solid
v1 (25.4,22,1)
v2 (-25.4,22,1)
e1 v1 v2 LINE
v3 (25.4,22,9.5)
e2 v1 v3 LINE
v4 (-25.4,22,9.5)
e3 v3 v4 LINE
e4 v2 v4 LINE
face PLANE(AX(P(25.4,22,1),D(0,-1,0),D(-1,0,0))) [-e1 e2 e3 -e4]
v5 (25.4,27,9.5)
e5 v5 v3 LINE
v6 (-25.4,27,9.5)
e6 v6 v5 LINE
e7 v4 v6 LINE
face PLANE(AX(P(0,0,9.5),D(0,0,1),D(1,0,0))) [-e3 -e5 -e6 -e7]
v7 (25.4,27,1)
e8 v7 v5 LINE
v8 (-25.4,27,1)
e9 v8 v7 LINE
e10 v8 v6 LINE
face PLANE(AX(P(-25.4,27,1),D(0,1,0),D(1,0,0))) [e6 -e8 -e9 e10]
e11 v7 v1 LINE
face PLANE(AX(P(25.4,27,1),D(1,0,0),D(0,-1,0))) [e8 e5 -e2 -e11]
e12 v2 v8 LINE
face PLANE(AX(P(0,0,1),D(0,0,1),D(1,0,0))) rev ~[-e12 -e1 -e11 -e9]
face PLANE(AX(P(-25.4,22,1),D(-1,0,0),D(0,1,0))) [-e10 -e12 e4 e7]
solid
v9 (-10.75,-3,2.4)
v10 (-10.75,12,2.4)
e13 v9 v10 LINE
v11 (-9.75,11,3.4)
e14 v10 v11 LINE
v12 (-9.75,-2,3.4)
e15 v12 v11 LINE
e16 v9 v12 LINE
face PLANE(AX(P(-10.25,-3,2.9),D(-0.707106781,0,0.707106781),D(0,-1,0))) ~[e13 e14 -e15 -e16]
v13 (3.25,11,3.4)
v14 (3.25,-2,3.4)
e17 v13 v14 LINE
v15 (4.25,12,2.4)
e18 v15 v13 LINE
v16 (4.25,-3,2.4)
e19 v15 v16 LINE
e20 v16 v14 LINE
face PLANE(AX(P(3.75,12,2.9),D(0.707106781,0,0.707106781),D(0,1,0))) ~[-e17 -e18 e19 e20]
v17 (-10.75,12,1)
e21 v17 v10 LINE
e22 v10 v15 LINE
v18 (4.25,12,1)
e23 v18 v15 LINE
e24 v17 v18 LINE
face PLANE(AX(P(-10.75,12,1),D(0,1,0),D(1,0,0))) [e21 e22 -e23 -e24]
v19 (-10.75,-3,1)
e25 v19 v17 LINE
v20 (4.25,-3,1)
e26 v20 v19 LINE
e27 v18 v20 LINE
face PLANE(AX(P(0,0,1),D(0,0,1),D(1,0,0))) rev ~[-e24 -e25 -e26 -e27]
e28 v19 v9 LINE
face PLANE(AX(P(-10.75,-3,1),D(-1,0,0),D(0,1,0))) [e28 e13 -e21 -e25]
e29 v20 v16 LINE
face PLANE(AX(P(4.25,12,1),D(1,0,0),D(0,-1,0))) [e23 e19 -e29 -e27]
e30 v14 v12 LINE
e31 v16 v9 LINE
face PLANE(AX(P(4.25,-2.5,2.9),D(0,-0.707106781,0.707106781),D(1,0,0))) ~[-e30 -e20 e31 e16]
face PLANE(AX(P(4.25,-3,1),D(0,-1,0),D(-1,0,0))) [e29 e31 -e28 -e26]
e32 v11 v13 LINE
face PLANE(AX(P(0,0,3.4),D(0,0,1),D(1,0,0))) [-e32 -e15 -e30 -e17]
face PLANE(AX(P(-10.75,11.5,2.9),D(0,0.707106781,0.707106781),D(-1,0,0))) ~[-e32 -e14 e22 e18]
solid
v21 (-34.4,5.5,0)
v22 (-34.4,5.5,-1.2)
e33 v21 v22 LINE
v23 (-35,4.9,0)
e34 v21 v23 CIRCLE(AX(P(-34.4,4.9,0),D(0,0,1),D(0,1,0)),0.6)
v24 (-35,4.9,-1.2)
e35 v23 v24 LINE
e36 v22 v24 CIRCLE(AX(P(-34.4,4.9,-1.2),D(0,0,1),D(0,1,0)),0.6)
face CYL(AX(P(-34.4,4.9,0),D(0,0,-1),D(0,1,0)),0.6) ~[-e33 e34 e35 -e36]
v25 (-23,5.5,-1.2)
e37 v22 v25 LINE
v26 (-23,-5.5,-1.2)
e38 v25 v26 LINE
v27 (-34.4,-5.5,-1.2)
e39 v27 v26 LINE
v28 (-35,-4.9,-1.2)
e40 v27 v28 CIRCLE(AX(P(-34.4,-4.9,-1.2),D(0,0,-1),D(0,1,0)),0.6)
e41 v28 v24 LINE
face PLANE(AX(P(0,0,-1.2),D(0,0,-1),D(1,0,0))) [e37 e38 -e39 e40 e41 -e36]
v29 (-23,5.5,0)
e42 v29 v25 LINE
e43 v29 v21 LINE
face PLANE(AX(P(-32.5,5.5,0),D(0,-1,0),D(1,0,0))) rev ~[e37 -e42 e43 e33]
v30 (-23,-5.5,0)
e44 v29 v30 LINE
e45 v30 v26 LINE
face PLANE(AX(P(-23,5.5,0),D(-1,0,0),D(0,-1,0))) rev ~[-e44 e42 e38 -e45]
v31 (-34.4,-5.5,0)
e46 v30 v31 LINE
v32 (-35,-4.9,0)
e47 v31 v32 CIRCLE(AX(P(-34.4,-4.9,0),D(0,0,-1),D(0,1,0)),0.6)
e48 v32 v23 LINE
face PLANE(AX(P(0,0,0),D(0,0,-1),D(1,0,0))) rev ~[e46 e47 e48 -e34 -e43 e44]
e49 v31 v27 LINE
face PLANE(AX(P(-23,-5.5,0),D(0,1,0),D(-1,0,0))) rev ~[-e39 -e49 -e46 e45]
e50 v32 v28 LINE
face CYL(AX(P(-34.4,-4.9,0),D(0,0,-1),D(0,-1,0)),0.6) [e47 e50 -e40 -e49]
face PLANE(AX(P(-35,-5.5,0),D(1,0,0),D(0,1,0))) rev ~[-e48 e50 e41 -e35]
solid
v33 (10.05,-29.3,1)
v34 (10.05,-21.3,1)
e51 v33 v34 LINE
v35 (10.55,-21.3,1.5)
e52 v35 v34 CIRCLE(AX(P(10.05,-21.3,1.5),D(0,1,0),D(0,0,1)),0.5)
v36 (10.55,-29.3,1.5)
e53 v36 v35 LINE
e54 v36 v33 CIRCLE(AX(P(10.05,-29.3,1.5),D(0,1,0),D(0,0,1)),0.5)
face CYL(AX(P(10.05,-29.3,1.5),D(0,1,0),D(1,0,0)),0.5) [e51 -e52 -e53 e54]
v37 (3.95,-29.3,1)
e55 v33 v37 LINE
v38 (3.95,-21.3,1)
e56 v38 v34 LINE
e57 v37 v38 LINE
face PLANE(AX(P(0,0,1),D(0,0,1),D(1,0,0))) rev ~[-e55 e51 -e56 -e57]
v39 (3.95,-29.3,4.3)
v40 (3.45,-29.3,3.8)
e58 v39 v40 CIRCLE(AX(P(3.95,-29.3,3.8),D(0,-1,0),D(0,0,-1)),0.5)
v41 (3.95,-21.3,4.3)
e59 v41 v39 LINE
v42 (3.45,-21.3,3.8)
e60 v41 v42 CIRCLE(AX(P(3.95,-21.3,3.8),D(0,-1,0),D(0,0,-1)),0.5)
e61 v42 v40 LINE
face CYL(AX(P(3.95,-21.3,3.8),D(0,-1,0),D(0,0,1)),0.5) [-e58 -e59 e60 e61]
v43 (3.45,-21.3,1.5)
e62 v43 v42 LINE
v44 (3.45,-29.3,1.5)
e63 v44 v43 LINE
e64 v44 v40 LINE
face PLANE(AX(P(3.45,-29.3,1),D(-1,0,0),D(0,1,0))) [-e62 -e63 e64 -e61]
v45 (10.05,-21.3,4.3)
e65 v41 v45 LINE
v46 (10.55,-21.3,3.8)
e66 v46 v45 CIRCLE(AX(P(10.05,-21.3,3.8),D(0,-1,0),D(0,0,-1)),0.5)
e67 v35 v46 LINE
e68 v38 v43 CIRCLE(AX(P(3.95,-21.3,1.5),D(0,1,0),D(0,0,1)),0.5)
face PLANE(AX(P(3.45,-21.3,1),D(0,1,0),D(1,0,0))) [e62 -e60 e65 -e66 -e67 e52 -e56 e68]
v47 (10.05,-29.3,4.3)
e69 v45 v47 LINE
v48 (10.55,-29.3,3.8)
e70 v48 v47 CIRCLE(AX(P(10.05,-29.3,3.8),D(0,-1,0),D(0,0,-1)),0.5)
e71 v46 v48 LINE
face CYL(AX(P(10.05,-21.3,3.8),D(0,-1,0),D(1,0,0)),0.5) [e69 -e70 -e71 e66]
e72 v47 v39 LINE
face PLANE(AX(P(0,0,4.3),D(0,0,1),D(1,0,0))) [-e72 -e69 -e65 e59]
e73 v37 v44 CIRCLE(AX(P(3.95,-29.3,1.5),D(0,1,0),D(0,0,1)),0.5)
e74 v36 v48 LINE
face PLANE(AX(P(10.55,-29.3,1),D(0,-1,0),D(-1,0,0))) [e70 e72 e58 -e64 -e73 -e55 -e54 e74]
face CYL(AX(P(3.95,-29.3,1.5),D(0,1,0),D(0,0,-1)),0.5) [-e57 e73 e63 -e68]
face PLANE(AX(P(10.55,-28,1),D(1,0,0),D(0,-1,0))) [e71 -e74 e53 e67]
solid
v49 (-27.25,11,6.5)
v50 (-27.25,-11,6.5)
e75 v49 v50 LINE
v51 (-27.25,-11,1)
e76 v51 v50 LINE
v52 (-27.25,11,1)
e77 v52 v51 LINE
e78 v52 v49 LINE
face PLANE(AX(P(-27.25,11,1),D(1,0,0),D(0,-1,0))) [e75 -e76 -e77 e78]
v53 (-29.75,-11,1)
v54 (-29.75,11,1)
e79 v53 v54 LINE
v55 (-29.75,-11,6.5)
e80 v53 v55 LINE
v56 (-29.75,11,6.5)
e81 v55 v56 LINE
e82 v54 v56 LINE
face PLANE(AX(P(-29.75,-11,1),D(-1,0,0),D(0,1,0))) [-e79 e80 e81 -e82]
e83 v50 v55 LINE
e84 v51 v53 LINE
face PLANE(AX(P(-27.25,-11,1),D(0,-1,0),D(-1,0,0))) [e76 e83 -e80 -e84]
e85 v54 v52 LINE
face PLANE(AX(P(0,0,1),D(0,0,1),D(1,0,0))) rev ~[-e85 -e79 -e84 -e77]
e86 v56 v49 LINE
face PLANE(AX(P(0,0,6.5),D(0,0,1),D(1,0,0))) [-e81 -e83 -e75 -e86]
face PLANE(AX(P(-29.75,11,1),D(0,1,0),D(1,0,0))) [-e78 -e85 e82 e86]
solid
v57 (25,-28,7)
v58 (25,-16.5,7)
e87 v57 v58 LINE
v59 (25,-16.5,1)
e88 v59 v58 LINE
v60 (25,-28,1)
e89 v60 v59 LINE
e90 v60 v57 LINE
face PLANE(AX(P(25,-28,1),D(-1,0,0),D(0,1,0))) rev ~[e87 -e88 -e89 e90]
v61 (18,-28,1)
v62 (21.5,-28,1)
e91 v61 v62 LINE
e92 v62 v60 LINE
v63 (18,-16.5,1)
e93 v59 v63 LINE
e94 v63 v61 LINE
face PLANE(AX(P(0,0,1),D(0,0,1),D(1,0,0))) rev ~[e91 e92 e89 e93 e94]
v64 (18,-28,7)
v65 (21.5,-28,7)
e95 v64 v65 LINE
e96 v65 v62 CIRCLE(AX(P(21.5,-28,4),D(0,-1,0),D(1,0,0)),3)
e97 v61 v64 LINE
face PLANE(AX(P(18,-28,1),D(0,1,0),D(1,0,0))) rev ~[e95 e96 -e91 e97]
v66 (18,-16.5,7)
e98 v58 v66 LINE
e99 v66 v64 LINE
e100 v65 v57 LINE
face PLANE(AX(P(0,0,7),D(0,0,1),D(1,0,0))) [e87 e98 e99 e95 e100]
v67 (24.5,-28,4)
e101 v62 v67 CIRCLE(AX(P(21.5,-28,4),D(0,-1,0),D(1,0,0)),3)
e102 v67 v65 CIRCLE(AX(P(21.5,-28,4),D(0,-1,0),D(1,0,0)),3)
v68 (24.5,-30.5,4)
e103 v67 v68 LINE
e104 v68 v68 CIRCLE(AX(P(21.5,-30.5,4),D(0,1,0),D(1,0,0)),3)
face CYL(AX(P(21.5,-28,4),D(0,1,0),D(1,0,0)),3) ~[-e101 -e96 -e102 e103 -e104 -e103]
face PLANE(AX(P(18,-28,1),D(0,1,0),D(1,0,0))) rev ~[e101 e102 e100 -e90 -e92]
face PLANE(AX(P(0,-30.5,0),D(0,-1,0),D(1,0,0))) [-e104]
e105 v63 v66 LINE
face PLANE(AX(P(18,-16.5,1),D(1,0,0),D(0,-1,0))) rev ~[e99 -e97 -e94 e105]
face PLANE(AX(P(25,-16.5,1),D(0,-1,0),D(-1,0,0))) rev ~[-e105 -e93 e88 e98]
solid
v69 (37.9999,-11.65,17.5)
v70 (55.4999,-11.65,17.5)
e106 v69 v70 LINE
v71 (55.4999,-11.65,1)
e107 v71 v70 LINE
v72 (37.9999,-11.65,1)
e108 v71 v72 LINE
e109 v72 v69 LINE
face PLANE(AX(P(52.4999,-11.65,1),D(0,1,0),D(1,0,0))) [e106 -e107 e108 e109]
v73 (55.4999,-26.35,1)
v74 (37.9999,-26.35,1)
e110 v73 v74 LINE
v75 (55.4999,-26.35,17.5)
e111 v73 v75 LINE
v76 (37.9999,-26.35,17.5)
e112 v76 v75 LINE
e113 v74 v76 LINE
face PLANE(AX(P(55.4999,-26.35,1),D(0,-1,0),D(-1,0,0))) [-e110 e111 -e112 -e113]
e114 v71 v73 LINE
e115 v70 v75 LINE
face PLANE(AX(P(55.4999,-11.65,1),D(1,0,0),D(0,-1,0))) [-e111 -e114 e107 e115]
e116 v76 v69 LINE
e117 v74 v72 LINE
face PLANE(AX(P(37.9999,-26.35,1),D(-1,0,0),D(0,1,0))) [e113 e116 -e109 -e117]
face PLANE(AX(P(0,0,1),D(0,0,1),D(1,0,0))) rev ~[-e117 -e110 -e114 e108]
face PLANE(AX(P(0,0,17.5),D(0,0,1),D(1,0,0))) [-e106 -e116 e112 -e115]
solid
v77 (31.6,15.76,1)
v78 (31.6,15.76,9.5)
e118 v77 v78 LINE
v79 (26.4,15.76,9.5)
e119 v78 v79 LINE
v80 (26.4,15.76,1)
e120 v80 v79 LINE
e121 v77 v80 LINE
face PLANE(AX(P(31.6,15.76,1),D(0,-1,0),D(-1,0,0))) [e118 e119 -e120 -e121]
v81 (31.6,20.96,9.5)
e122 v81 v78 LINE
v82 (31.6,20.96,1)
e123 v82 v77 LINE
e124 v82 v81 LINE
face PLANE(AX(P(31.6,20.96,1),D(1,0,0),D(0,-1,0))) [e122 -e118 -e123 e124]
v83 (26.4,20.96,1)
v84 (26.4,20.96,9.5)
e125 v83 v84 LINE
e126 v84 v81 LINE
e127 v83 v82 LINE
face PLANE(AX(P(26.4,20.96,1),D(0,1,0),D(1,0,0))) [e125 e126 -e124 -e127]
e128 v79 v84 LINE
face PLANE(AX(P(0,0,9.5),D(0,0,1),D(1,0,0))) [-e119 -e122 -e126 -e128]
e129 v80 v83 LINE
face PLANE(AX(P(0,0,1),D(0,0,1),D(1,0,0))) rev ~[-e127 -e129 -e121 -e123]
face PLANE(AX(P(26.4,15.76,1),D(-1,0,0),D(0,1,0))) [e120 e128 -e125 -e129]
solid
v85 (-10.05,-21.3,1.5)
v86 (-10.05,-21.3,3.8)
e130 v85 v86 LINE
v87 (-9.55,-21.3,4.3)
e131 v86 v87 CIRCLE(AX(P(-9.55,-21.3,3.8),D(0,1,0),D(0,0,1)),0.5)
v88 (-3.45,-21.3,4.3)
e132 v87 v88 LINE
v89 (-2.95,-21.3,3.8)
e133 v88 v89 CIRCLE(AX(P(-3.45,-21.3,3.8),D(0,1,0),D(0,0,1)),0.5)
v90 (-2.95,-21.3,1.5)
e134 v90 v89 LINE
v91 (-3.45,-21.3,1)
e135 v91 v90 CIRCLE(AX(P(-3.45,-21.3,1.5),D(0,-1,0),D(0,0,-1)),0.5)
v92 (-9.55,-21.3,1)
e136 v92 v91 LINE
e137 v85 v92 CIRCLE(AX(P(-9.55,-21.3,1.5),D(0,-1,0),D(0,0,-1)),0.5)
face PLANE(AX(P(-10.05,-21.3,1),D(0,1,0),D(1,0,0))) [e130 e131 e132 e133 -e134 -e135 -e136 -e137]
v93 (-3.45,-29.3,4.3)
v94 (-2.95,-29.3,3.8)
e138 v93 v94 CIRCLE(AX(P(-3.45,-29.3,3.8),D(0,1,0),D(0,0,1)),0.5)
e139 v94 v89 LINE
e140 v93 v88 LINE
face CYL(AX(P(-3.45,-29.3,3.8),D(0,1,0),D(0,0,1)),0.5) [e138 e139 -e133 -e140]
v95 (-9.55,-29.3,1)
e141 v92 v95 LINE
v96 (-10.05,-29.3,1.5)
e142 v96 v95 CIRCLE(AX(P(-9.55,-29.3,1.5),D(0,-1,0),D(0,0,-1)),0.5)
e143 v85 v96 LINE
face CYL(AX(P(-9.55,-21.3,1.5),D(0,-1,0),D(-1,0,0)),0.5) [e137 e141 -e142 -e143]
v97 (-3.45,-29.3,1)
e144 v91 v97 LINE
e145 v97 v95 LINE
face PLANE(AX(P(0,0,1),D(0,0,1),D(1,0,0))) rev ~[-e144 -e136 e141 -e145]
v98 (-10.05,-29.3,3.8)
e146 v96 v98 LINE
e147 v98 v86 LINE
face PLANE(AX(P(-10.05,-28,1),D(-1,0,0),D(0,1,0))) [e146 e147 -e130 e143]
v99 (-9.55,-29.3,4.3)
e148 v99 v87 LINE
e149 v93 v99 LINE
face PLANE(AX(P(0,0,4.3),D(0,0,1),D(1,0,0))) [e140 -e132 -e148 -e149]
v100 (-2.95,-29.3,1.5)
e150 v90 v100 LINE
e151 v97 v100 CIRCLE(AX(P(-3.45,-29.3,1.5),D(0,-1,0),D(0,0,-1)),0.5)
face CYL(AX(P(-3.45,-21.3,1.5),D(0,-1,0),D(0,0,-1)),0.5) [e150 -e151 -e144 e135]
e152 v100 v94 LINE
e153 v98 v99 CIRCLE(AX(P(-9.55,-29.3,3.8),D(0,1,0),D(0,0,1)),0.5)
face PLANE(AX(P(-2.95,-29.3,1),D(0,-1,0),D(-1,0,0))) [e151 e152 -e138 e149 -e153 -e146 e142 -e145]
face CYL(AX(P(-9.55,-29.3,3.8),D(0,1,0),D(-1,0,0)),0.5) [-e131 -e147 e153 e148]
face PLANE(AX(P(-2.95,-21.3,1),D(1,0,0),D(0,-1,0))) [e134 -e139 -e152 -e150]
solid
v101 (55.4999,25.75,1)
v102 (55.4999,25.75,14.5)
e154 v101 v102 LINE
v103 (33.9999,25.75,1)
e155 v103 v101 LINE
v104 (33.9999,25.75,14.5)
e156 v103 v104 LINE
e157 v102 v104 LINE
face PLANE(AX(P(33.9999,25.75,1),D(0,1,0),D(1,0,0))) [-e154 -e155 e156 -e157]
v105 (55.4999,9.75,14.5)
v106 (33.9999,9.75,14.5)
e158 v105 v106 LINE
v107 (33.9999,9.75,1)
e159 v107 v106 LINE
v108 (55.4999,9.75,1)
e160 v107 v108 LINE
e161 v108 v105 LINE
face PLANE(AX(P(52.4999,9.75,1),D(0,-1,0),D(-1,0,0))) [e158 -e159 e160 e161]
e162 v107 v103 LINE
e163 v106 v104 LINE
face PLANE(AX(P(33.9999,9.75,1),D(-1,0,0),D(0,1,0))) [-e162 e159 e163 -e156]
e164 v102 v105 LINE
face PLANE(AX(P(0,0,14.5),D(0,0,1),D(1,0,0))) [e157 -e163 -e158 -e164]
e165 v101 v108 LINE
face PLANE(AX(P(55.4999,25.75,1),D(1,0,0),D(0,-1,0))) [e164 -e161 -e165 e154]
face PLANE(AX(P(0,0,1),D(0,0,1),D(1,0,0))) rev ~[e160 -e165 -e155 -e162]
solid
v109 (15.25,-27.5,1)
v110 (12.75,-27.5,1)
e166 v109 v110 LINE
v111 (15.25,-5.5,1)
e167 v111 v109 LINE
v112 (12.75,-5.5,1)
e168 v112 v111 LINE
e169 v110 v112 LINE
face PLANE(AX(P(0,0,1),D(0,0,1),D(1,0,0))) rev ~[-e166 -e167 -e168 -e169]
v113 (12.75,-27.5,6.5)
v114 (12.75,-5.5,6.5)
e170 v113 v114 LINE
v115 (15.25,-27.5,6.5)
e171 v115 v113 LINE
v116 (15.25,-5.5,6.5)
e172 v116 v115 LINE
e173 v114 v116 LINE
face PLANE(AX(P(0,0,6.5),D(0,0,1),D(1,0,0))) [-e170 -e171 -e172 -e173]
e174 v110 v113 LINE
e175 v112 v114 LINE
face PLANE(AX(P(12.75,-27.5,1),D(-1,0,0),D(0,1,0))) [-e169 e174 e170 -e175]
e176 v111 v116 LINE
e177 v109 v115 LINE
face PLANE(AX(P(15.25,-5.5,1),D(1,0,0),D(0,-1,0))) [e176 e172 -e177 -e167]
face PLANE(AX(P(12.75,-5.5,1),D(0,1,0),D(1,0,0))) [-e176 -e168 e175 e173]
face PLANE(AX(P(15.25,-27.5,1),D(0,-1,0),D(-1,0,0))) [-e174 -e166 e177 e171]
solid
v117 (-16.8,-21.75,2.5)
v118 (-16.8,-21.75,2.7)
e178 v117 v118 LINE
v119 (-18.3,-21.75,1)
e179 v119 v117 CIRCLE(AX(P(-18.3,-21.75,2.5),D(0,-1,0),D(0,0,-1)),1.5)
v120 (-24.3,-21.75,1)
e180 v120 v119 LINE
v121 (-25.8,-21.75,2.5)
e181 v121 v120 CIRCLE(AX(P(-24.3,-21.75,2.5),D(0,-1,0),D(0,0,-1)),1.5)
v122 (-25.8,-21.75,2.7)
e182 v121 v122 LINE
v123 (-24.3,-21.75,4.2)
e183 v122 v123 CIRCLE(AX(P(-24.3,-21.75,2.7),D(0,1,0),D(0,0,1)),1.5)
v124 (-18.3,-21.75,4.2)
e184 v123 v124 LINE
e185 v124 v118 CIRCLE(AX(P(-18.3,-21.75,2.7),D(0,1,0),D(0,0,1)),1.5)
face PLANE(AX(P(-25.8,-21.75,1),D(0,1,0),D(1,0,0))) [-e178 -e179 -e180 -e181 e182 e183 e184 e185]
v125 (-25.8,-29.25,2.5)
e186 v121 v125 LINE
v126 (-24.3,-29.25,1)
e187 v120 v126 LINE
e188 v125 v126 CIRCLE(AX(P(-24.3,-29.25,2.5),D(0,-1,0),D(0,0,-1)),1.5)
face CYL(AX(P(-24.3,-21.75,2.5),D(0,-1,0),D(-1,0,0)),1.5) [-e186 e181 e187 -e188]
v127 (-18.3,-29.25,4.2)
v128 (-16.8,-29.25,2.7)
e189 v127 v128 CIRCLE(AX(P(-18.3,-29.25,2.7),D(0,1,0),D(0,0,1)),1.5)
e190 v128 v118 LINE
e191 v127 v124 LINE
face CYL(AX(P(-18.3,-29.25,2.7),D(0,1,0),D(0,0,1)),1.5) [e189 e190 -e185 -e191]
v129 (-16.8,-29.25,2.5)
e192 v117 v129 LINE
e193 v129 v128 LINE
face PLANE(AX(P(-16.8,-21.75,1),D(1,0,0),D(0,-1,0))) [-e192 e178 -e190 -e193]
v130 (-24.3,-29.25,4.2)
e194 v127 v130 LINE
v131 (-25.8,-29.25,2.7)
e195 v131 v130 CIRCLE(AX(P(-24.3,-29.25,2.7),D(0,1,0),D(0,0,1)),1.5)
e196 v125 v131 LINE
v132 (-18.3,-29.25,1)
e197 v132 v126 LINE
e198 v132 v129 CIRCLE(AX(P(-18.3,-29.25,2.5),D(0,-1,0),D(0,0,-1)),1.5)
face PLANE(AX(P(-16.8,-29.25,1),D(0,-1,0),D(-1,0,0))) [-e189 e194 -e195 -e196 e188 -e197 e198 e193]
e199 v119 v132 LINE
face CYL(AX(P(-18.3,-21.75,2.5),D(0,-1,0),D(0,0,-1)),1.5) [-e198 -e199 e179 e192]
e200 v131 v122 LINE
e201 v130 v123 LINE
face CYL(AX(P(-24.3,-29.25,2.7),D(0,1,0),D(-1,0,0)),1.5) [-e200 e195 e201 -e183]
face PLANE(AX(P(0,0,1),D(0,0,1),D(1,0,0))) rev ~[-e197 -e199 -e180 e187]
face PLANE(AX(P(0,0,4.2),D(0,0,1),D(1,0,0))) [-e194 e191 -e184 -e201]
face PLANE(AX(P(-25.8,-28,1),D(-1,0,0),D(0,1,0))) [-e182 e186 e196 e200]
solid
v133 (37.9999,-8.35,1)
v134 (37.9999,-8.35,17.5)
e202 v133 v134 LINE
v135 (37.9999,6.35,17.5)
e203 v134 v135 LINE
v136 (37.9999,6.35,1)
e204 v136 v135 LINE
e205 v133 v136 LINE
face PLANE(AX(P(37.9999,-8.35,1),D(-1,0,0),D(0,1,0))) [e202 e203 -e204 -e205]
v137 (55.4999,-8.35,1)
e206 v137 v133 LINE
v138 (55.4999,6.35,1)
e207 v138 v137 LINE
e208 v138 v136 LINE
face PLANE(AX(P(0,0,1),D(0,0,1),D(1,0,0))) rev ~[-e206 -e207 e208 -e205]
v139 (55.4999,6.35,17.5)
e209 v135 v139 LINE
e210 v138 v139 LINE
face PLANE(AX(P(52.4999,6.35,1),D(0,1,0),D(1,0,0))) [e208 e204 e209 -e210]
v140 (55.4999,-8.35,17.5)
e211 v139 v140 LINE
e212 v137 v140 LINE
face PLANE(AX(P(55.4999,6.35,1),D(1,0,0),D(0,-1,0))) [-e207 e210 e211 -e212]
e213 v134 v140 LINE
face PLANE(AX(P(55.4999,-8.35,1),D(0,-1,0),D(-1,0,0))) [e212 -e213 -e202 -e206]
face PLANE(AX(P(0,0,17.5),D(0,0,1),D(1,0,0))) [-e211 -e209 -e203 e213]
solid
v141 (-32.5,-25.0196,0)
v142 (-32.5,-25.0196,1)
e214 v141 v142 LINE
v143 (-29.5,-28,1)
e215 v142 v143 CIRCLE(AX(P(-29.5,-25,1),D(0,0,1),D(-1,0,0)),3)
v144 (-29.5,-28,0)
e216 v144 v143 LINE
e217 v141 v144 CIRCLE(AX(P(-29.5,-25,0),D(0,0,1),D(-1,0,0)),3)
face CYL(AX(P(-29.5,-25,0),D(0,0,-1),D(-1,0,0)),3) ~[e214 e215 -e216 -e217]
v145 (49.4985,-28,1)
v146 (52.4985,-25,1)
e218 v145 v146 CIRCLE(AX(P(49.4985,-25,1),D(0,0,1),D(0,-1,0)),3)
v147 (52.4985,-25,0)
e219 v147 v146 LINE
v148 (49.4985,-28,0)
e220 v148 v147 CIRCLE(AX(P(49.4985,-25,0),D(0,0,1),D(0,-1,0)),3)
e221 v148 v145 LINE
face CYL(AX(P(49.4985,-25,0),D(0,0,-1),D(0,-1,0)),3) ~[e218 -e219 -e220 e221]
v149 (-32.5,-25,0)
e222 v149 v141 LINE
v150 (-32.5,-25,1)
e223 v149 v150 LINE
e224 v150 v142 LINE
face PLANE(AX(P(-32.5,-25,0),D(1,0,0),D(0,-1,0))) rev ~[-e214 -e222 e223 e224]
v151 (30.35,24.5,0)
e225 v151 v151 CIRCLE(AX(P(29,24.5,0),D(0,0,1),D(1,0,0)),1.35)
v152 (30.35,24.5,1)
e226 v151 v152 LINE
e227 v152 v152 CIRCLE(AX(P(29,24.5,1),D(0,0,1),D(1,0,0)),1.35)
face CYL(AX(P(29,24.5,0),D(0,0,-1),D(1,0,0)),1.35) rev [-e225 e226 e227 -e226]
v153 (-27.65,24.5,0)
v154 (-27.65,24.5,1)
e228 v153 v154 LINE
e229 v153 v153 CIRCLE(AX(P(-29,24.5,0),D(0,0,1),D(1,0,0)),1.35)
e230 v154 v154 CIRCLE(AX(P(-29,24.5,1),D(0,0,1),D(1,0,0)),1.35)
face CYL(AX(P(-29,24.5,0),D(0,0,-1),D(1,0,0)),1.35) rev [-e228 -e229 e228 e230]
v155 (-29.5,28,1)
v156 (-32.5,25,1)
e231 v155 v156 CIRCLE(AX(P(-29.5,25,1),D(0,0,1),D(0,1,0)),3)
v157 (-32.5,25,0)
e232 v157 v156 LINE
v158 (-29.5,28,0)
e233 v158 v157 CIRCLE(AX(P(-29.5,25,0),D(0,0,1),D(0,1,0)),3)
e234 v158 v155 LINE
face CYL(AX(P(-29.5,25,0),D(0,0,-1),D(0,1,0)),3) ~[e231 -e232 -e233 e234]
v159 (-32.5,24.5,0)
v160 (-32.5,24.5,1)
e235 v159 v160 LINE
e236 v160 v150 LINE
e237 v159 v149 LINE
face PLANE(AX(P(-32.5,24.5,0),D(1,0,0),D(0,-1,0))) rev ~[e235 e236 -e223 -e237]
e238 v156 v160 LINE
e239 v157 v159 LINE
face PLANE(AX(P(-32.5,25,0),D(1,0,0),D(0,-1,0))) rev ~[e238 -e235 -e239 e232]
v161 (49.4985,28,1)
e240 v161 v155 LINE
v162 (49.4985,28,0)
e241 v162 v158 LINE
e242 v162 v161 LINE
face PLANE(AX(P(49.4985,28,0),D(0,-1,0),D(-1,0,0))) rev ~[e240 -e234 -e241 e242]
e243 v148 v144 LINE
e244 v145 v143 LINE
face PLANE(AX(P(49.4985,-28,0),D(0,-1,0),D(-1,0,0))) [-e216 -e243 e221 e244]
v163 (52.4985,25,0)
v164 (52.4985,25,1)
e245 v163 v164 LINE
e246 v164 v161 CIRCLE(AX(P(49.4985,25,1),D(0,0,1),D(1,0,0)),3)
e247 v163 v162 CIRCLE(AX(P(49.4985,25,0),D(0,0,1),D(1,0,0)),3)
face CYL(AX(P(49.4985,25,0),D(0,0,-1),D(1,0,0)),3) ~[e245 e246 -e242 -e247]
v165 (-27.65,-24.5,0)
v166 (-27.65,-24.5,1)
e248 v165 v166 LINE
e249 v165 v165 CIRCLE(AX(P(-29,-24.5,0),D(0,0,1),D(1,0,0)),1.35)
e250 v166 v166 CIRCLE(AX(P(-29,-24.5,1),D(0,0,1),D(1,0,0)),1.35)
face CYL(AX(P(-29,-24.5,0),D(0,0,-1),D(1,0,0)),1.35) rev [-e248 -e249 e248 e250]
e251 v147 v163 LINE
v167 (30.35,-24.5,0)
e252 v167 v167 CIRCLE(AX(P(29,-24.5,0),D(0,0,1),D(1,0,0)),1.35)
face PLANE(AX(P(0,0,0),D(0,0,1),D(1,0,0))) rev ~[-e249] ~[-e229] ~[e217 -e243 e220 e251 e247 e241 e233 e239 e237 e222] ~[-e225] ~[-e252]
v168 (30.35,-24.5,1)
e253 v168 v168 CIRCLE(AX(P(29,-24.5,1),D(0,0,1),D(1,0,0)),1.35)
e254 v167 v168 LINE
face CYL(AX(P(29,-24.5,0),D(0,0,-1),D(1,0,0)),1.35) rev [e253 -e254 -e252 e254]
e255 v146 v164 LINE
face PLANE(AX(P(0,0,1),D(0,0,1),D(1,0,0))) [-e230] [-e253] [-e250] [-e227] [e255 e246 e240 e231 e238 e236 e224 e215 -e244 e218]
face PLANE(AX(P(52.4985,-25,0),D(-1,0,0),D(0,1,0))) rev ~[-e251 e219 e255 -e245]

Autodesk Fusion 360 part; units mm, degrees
sketch "Skizze4" plane through (0, 0, 0) normal (0, 0, 1) x (1, 0, 0)
  line L0 (52.4985, -25) -> (52.4985, 25)
  line L1 (-32.5, 24.5) -> (-32.5, -25.0196)
  line L2 (49.4985, 28) -> (-29.5, 28)
  line L3 (-32.5, 25) -> (-32.5, 24.5)
  line L4 (49.4985, -28) -> (-29.5, -28)
  line L5 (-32.5, -25) -> (-32.5, -25.0196)
  circle A0 centre (29, 24.5) radius 1.35
  circle A1 centre (29, -24.5) radius 1.35
  circle A2 centre (-29, -24.5) radius 1.35
  circle A3 centre (-29, 24.5) radius 1.35
  arc A4 (-29.5, 28) -> (-32.5, 25) centre (-29.5, 25) ccw
  arc A5 (-32.5, -25) -> (-29.5, -28) centre (-29.5, -25) ccw
  arc A6 (49.4985, -28) -> (52.4985, -25) centre (49.4985, -25) ccw
  arc A7 (52.4985, 25) -> (49.4985, 28) centre (49.4985, 25) ccw
  line L6 (-29, 24.5) -> (29, -24.5) construction
  line L7 (29, 24.5) -> (-29, -24.5) construction
  line L8 (-29, 24.5) -> (-29, -24.5) construction
  line L9 (-29, -24.5) -> (29, -24.5) construction
  line L10 (29, -24.5) -> (29, 24.5) construction
  line L11 (-29, 24.5) -> (29, 24.5) construction
  point P0 (-32.5, 28)
  dimension "d3" = 85
  dimension "d6" = 3.5
  dimension "d11" = 2.7
  dimension "d17" = 3
  dimension "d57" = 49
  dimension "d58" = 58
  dimension "d61" = 56
  dimension "d62" = 3.5
  dimension "d63" = 3.5
extrude "Extrusion7" add sketch "Skizze4" along normal blind 1 makes body 1
copy_body "Körper->Berechn3" bodies 1 removing the originals makes body 2 in component "Baseplate"
sketch "Skizze9" plane through (0, 0, 1) normal (0, 0, 1) x (1, 0, 0)
  arc A0 (52.4999, 24.6406) -> (49.5215, 28) centre (49.5215, 25) ccw
  line L0 (52.4999, -25) -> (52.4999, 24.6406) construction
  line L1 (49.5215, 28) -> (-29.5, 28) construction
  arc A1 (49.4999, -28) -> (52.4999, -25) centre (49.4999, -25) ccw construction
  line L2 (49.4999, -28) -> (-29.5, -28) construction
  circle A2 centre (29, -24.5) radius 1.3
  arc A3 (-29.5, 28) -> (-32.5, 25) centre (-29.5, 25) ccw construction
  line L3 (-32.5, 24.5) -> (-32.5, -25.0196) construction
  arc A4 (-32.5, -25) -> (-29.5, -28) centre (-29.5, -25) ccw construction
  circle A5 centre (29, 24.5) radius 1.3
  circle A6 centre (-29, 24.5) radius 1.3
  circle A7 centre (-29, -24.5) radius 1.3
  line L4 (-32.5, 25) -> (-32.5, 24.5) construction
  circle A8 centre (29, -24.5) radius 1.3
  circle A9 centre (29, 24.5) radius 1.3
  circle A10 centre (-29, -24.5) radius 1.3
  circle A11 centre (-29, 24.5) radius 1.3
  arc A12 (49.4999, -28) -> (52.4999, -25) centre (49.4999, -25) ccw
  line L5 (52.4999, -25) -> (52.4999, 24.6406)
  arc A13 (52.4999, 24.6406) -> (49.5215, 28) centre (49.5215, 25) ccw
  line L6 (49.5215, 28) -> (-29.5, 28)
  arc A14 (-29.5, 28) -> (-32.5, 25) centre (-29.5, 25) ccw
  line L7 (-32.5, 25) -> (-32.5, -25)
  arc A15 (-32.5, -25) -> (-29.5, -28) centre (-29.5, -25) ccw
  line L8 (-29.5, -28) -> (49.4999, -28)
  line L9 (-16.8, -29.25) -> (-25.8, -29.25)
  line L10 (-25.8, -29.25) -> (-25.8, -21.75)
  line L11 (-25.8, -21.75) -> (-16.8, -21.75)
  line L12 (-16.8, -21.75) -> (-16.8, -29.25)
  line L13 (-16.8, -29.25) -> (-25.8, -21.75) construction
  line L14 (-25.8, -29.25) -> (-16.8, -21.75) construction
  line L15 (-2.95, -29.3) -> (-10.05, -29.3)
  line L16 (-10.05, -29.3) -> (-10.05, -21.3)
  line L17 (-10.05, -21.3) -> (-2.95, -21.3)
  line L18 (-2.95, -21.3) -> (-2.95, -29.3)
  line L19 (-2.95, -29.3) -> (-10.05, -21.3) construction
  line L20 (-10.05, -29.3) -> (-2.95, -21.3) construction
  line L21 (10.55, -29.3) -> (3.45, -29.3)
  line L22 (3.45, -29.3) -> (3.45, -21.3)
  line L23 (3.45, -21.3) -> (10.55, -21.3)
  line L24 (10.55, -21.3) -> (10.55, -29.3)
  line L25 (10.55, -29.3) -> (3.45, -21.3) construction
  line L26 (3.45, -29.3) -> (10.55, -21.3) construction
  line L27 (18, -28) -> (25, -28)
  line L28 (25, -28) -> (25, -16.5)
  line L29 (25, -16.5) -> (18, -16.5)
  line L30 (18, -16.5) -> (18, -28)
  line L31 (18, -28) -> (25, -16.5) construction
  line L32 (25, -28) -> (18, -16.5) construction
  line L33 (55.4999, -26.35) -> (37.9999, -26.35)
  line L34 (37.9999, -26.35) -> (37.9999, -11.65)
  line L35 (37.9999, -11.65) -> (55.4999, -11.65)
  line L36 (55.4999, -11.65) -> (55.4999, -26.35)
  line L37 (55.4999, -26.35) -> (37.9999, -11.65) construction
  line L38 (37.9999, -26.35) -> (55.4999, -11.65) construction
  line L39 (55.4999, -8.35) -> (37.9999, -8.35)
  line L40 (37.9999, -8.35) -> (37.9999, 6.35)
  line L41 (37.9999, 6.35) -> (55.4999, 6.35)
  line L42 (55.4999, 6.35) -> (55.4999, -8.35)
  line L43 (55.4999, -8.35) -> (37.9999, 6.35) construction
  line L44 (37.9999, -8.35) -> (55.4999, 6.35) construction
  line L45 (55.4999, 9.75) -> (33.9999, 9.75)
  line L46 (33.9999, 9.75) -> (33.9999, 25.75)
  line L47 (33.9999, 25.75) -> (55.4999, 25.75)
  line L48 (55.4999, 25.75) -> (55.4999, 9.75)
  line L49 (55.4999, 9.75) -> (33.9999, 25.75) construction
  line L50 (33.9999, 9.75) -> (55.4999, 25.75) construction
  line L51 (25.4, 22) -> (-25.4, 22)
  line L52 (-25.4, 22) -> (-25.4, 27)
  line L53 (-25.4, 27) -> (25.4, 27)
  line L54 (25.4, 27) -> (25.4, 22)
  line L55 (25.4, 22) -> (-25.4, 27) construction
  line L56 (-25.4, 22) -> (25.4, 27) construction
  line L57 (-29, 24.5) -> (29, 24.5) construction
  line L58 (-27.25, -11) -> (-29.75, -11)
  line L59 (-29.75, -11) -> (-29.75, 11)
  line L60 (-29.75, 11) -> (-27.25, 11)
  line L61 (-27.25, 11) -> (-27.25, -11)
  line L62 (-27.25, -11) -> (-29.75, 11) construction
  line L63 (-29.75, -11) -> (-27.25, 11) construction
  line L64 (4.25, -3) -> (-10.75, -3)
  line L65 (-10.75, -3) -> (-10.75, 12)
  line L66 (-10.75, 12) -> (4.25, 12)
  line L67 (4.25, 12) -> (4.25, -3)
  line L68 (4.25, -3) -> (-10.75, 12) construction
  line L69 (-10.75, -3) -> (4.25, 12) construction
  line L70 (15.25, -27.5) -> (12.75, -27.5)
  line L71 (12.75, -27.5) -> (12.75, -5.5)
  line L72 (12.75, -5.5) -> (15.25, -5.5)
  line L73 (15.25, -5.5) -> (15.25, -27.5)
  line L74 (15.25, -27.5) -> (12.75, -5.5) construction
  line L75 (12.75, -27.5) -> (15.25, -5.5) construction
  line L76 (-16.6, -8.625) -> (-24.4, -8.625)
  line L77 (-24.4, -8.625) -> (-24.4, -6.375)
  line L78 (-24.4, -6.375) -> (-16.6, -6.375)
  line L79 (-16.6, -6.375) -> (-16.6, -8.625)
  line L80 (-16.6, -8.625) -> (-24.4, -6.375) construction
  line L81 (-24.4, -8.625) -> (-16.6, -6.375) construction
  line L82 (-2.95, -29.3) -> (3.45, -29.3) construction
  line L83 (-2.95, -21.3) -> (3.45, -21.3) construction
  line L84 (55.4999, -11.65) -> (55.4999, -8.35) construction
  line L85 (55.4999, 6.35) -> (55.4999, 9.75) construction
  line L86 (31.6, 15.76) -> (26.4, 15.76)
  line L87 (26.4, 15.76) -> (26.4, 20.96)
  line L88 (26.4, 20.96) -> (31.6, 20.96)
  line L89 (31.6, 20.96) -> (31.6, 15.76)
  line L90 (31.6, 15.76) -> (26.4, 20.96) construction
  line L91 (26.4, 15.76) -> (31.6, 20.96) construction
  line L92 (29, 24.5) -> (29, 18.36) construction
  line L93 (-32.5, 0) -> (52.4999, 0) construction
  line L94 (-29, -24.5) -> (29, -24.5) construction
  point P0 (-21.3, -25.5)
  point P1 (-6.5, -25.3)
  point P2 (7, -25.3)
  point P3 (21.5, -22.25)
  point P4 (46.7499, -19)
  point P5 (46.7499, -1)
  point P6 (44.7499, 17.75)
  point P7 (0, 24.5)
  point P8 (-28.5, 0)
  point P9 (-3.25, 4.5)
  point P10 (14, -16.5)
  point P11 (-20.5, -7.5)
  point P12 (29, 18.36)
  dimension "d66" = 9
  dimension "d67" = 27
  dimension "d68" = 45.75
  dimension "d69" = 29
  dimension "d70" = 7.7
  dimension "d71" = 14.8
  dimension "d72" = 13.5
  dimension "d73" = 7.1
  dimension "d74" = 7.1
  dimension "d75" = 8
  dimension "d76" = 17.5
  dimension "d77" = 14.7
  dimension "d78" = 1.3
  dimension "d79" = 11.5
  dimension "d80" = 7
  dimension "d82" = 7
  dimension "d84" = 7.5
  dimension "d85" = 3
  dimension "d86" = 21.5
  dimension "d87" = 16
  dimension "d88" = 5.2
  dimension "d89" = 5.2
  dimension "d90" = 11.5
  dimension "d91" = 17.5
  dimension "d92" = 14.7
  dimension "d122" = 12
  dimension "d123" = 20.5
  dimension "d124" = 4
  dimension "d125" = 32.5
  dimension "d126" = 25.75
  dimension "d127" = 1.25
  dimension "d128" = 9
  dimension "d129" = 7.5
  dimension "d130" = 22
  dimension "d131" = 2.5
  dimension "d133" = 6.14
  dimension "d134" = 15
  dimension "d137" = 5
  dimension "d138" = 50.8
  dimension "d139" = 7.8
  dimension "d140" = 2.25
  dimension "d141" = 2.5
  dimension "d142" = 22
extrude "Extrusion8" add sketch "Skizze9" along normal blind 3.2 separate body contours L8 L10 L11 L12 | L8 L9 L10 L12 makes body 3
extrude "Extrusion9" add sketch "Skizze9" along normal blind 3.3 separate body contours L8 L16 L17 L18 | L8 L15 L16 L18 | L8 L21 L22 L24 | L8 L22 L23 L24 makes body 4 at (-7.6833, -26.6333, 1) makes body 5 at (5.8167, -23.9667, 1)
extrude "Extrusion10" add sketch "Skizze9" along normal blind 5.5 separate body contours L58 L59 L60 L61 | L70 L71 L72 L73 makes body 6 at (12.75, -20.1667, 2.8333) makes body 7 at (-29.75, -3.6667, 2.8333)
extrude "Extrusion11" add sketch "Skizze9" along normal blind 6 separate body contours L8 L27 L28 L29 L30 makes body 8
extrude "Extrusion12" add sketch "Skizze9" along normal blind 16.5 separate body contours L5 L39 L41 L42 | L5 L39 L40 L41 | A12 L5 L33 L35 L36 | A12 L5 L33 L34 L35 makes body 9 at (49.6666, -26.35, 6.5) makes body 10 at (43.8332, 6.35, 6.5)
extrude "Extrusion13" add sketch "Skizze9" along normal blind 13.5 separate body contours A0 L5 A13 L45 L46 L47 | A0 L5 A13 L45 L47 L48 makes body 11
extrude "Extrusion14" add sketch "Skizze9" along normal blind 8.5 separate body contours L51 L52 L53 L54 | L86 L87 L88 L89 makes body 12 at (8.4667, 22, 3.8333) makes body 13 at (31.6, 19.2267, 3.8333)
extrude "Extrusion15" add sketch "Skizze9" along normal blind 2.4 separate body contours L64 L65 L66 L67 makes body 14
sketch "Skizze10" plane through (0, -28, 0) normal (0, -1, 0) x (1, 0, 0)
  line L0 (18, 1) -> (25, 1)
  line L1 (25, 1) -> (25, 7)
  line L2 (25, 7) -> (18, 7)
  line L3 (18, 7) -> (18, 1)
  circle A0 centre (21.5, 4) radius 3
  line L4 (18, 7) -> (25, 1) construction
  line L5 (25, 7) -> (18, 1) construction
extrude "Extrusion16" add sketch "Skizze10" along normal blind 2.5 contours A0 bodies 8
fillet "Abrundung1" radius 1.5 4 edges at (-25.8, -25.5, 4.2) (-25.8, -25.5, 1) (-16.8, -25.5, 4.2) (-16.8, -25.5, 1) on bodies 3
chamfer "Fase4" distance 1 angle 45 4 edges at (-10.75, 4.5, 3.4) (-3.25, -3, 3.4) (-3.25, 12, 3.4) (4.25, 4.5, 3.4) on bodies 14
fillet "Abrundung2" radius 0.5 8 edges at (-10.05, -25.3, 4.3) (-2.95, -25.3, 4.3) (-10.05, -25.3, 1) (-2.95, -25.3, 1) (3.45, -25.3, 1) (3.45, -25.3, 4.3) (10.55, -25.3, 4.3) (10.55, -25.3, 1) on bodies 4 5
copy_body "Körper->Berechn4" bodies 3 removing the originals makes body 15 in component "Power USB C"
copy_body "Körper->Berechn5" bodies 5 removing the originals makes body 16 in component "Micro HDMI 2"
copy_body "Körper->Berechn6" bodies 8 removing the originals makes body 17 in component "3.5 mm Audio"
copy_body "Körper->Berechn7" bodies 4 removing the originals makes body 18 in component "Micro HDMI 1"
copy_body "Körper->Berechn8" bodies 9 removing the originals makes body 19 in component "USB 2.0"
copy_body "Körper->Berechn9" bodies 7 removing the originals makes body 20 in component "Display"
copy_body "Körper->Berechn10" bodies 14 removing the originals makes body 21 in component "Processor"
copy_body "Körper->Berechn11" bodies 11 removing the originals makes body 22 in component "Ethernet "
copy_body "Körper->Berechn12" bodies 6 removing the originals makes body 23 in component "Kamera"
copy_body "Körper->Berechn13" bodies 12 removing the originals makes body 24 in component "GPIO 40"
copy_body "Körper->Berechn14" bodies 10 removing the originals makes body 25 in component "USB 3.0"
copy_body "Körper->Berechn15" bodies 13 removing the originals makes body 26 in component "PoE"
sketch "Skizze11" plane through (0, 0, 0) normal (0, 0, -1) x (1, 0, 0)
  circle A0 centre (29, 24.5) radius 1.35
  circle A1 centre (-29, 24.5) radius 1.35
  circle A2 centre (-29, -24.5) radius 1.35
  circle A3 centre (29, -24.5) radius 1.35
  arc A4 (52.4985, 25) -> (49.4985, 28) centre (49.4985, 25) ccw
  line L0 (49.4985, 28) -> (-29.5, 28)
  arc A5 (-29.5, 28) -> (-32.5, 25) centre (-29.5, 25) ccw
  line L1 (-32.5, 25) -> (-32.5, -25)
  arc A6 (-32.5, -25) -> (-29.5, -28) centre (-29.5, -25) ccw
  line L2 (-29.5, -28) -> (49.4985, -28)
  arc A7 (49.4985, -28) -> (52.4985, -25) centre (49.4985, -25) ccw
  line L3 (52.4985, -25) -> (52.4985, 25)
  line L4 (-29, 24.5) -> (-29, -24.5) construction
  line L5 (-23, 5.5) -> (-35, 5.5)
  line L6 (-35, 5.5) -> (-35, -5.5)
  line L7 (-35, -5.5) -> (-23, -5.5)
  line L8 (-23, -5.5) -> (-23, 5.5)
  line L9 (-23, 5.5) -> (-35, -5.5) construction
  line L10 (-35, 5.5) -> (-23, -5.5) construction
  point P0 (-29, 0)
  dimension "d114" = 11
  dimension "d115" = 12
extrude "Extrusion1" add sketch "Skizze11" along normal blind 1.2 separate body contours L1 L5 L7 L8 | L1 L5 L6 L7 makes body 27 in component "Baseplate"
fillet "Abrundung1'" radius 0.6 2 edges at (-35, 5.5, -0.6) (-35, -5.5, -0.6) on bodies 27 in component "Baseplate"
component "Baseplate" placed x (1, 0, 0) y (0, 1, 0) z (0, 0, 1) at (0, 0, 0)
component "Power USB C" placed x (1, 0, 0) y (0, 1, 0) z (0, 0, 1) at (0, 0, 0)
component "Micro HDMI 2" placed x (1, 0, 0) y (0, 1, 0) z (0, 0, 1) at (0, 0, 0)
component "3.5 mm Audio" placed x (1, 0, 0) y (0, 1, 0) z (0, 0, 1) at (0, 0, 0)
component "Micro HDMI 1" placed x (1, 0, 0) y (0, 1, 0) z (0, 0, 1) at (0, 0, 0)
component "USB 2.0" placed x (1, 0, 0) y (0, 1, 0) z (0, 0, 1) at (0, 0, 0)
component "Display" placed x (1, 0, 0) y (0, 1, 0) z (0, 0, 1) at (0, 0, 0)
component "Processor" placed x (1, 0, 0) y (0, 1, 0) z (0, 0, 1) at (0, 0, 0)
component "Ethernet " placed x (1, 0, 0) y (0, 1, 0) z (0, 0, 1) at (0, 0, 0)
component "Kamera" placed x (1, 0, 0) y (0, 1, 0) z (0, 0, 1) at (0, 0, 0)
component "GPIO 40" placed x (1, 0, 0) y (0, 1, 0) z (0, 0, 1) at (0, 0, 0)
component "USB 3.0" placed x (1, 0, 0) y (0, 1, 0) z (0, 0, 1) at (0, 0, 0)
component "PoE" placed x (1, 0, 0) y (0, 1, 0) z (0, 0, 1) at (0, 0, 0)
equation "d91 = d76"
equation "d92 = d77"
